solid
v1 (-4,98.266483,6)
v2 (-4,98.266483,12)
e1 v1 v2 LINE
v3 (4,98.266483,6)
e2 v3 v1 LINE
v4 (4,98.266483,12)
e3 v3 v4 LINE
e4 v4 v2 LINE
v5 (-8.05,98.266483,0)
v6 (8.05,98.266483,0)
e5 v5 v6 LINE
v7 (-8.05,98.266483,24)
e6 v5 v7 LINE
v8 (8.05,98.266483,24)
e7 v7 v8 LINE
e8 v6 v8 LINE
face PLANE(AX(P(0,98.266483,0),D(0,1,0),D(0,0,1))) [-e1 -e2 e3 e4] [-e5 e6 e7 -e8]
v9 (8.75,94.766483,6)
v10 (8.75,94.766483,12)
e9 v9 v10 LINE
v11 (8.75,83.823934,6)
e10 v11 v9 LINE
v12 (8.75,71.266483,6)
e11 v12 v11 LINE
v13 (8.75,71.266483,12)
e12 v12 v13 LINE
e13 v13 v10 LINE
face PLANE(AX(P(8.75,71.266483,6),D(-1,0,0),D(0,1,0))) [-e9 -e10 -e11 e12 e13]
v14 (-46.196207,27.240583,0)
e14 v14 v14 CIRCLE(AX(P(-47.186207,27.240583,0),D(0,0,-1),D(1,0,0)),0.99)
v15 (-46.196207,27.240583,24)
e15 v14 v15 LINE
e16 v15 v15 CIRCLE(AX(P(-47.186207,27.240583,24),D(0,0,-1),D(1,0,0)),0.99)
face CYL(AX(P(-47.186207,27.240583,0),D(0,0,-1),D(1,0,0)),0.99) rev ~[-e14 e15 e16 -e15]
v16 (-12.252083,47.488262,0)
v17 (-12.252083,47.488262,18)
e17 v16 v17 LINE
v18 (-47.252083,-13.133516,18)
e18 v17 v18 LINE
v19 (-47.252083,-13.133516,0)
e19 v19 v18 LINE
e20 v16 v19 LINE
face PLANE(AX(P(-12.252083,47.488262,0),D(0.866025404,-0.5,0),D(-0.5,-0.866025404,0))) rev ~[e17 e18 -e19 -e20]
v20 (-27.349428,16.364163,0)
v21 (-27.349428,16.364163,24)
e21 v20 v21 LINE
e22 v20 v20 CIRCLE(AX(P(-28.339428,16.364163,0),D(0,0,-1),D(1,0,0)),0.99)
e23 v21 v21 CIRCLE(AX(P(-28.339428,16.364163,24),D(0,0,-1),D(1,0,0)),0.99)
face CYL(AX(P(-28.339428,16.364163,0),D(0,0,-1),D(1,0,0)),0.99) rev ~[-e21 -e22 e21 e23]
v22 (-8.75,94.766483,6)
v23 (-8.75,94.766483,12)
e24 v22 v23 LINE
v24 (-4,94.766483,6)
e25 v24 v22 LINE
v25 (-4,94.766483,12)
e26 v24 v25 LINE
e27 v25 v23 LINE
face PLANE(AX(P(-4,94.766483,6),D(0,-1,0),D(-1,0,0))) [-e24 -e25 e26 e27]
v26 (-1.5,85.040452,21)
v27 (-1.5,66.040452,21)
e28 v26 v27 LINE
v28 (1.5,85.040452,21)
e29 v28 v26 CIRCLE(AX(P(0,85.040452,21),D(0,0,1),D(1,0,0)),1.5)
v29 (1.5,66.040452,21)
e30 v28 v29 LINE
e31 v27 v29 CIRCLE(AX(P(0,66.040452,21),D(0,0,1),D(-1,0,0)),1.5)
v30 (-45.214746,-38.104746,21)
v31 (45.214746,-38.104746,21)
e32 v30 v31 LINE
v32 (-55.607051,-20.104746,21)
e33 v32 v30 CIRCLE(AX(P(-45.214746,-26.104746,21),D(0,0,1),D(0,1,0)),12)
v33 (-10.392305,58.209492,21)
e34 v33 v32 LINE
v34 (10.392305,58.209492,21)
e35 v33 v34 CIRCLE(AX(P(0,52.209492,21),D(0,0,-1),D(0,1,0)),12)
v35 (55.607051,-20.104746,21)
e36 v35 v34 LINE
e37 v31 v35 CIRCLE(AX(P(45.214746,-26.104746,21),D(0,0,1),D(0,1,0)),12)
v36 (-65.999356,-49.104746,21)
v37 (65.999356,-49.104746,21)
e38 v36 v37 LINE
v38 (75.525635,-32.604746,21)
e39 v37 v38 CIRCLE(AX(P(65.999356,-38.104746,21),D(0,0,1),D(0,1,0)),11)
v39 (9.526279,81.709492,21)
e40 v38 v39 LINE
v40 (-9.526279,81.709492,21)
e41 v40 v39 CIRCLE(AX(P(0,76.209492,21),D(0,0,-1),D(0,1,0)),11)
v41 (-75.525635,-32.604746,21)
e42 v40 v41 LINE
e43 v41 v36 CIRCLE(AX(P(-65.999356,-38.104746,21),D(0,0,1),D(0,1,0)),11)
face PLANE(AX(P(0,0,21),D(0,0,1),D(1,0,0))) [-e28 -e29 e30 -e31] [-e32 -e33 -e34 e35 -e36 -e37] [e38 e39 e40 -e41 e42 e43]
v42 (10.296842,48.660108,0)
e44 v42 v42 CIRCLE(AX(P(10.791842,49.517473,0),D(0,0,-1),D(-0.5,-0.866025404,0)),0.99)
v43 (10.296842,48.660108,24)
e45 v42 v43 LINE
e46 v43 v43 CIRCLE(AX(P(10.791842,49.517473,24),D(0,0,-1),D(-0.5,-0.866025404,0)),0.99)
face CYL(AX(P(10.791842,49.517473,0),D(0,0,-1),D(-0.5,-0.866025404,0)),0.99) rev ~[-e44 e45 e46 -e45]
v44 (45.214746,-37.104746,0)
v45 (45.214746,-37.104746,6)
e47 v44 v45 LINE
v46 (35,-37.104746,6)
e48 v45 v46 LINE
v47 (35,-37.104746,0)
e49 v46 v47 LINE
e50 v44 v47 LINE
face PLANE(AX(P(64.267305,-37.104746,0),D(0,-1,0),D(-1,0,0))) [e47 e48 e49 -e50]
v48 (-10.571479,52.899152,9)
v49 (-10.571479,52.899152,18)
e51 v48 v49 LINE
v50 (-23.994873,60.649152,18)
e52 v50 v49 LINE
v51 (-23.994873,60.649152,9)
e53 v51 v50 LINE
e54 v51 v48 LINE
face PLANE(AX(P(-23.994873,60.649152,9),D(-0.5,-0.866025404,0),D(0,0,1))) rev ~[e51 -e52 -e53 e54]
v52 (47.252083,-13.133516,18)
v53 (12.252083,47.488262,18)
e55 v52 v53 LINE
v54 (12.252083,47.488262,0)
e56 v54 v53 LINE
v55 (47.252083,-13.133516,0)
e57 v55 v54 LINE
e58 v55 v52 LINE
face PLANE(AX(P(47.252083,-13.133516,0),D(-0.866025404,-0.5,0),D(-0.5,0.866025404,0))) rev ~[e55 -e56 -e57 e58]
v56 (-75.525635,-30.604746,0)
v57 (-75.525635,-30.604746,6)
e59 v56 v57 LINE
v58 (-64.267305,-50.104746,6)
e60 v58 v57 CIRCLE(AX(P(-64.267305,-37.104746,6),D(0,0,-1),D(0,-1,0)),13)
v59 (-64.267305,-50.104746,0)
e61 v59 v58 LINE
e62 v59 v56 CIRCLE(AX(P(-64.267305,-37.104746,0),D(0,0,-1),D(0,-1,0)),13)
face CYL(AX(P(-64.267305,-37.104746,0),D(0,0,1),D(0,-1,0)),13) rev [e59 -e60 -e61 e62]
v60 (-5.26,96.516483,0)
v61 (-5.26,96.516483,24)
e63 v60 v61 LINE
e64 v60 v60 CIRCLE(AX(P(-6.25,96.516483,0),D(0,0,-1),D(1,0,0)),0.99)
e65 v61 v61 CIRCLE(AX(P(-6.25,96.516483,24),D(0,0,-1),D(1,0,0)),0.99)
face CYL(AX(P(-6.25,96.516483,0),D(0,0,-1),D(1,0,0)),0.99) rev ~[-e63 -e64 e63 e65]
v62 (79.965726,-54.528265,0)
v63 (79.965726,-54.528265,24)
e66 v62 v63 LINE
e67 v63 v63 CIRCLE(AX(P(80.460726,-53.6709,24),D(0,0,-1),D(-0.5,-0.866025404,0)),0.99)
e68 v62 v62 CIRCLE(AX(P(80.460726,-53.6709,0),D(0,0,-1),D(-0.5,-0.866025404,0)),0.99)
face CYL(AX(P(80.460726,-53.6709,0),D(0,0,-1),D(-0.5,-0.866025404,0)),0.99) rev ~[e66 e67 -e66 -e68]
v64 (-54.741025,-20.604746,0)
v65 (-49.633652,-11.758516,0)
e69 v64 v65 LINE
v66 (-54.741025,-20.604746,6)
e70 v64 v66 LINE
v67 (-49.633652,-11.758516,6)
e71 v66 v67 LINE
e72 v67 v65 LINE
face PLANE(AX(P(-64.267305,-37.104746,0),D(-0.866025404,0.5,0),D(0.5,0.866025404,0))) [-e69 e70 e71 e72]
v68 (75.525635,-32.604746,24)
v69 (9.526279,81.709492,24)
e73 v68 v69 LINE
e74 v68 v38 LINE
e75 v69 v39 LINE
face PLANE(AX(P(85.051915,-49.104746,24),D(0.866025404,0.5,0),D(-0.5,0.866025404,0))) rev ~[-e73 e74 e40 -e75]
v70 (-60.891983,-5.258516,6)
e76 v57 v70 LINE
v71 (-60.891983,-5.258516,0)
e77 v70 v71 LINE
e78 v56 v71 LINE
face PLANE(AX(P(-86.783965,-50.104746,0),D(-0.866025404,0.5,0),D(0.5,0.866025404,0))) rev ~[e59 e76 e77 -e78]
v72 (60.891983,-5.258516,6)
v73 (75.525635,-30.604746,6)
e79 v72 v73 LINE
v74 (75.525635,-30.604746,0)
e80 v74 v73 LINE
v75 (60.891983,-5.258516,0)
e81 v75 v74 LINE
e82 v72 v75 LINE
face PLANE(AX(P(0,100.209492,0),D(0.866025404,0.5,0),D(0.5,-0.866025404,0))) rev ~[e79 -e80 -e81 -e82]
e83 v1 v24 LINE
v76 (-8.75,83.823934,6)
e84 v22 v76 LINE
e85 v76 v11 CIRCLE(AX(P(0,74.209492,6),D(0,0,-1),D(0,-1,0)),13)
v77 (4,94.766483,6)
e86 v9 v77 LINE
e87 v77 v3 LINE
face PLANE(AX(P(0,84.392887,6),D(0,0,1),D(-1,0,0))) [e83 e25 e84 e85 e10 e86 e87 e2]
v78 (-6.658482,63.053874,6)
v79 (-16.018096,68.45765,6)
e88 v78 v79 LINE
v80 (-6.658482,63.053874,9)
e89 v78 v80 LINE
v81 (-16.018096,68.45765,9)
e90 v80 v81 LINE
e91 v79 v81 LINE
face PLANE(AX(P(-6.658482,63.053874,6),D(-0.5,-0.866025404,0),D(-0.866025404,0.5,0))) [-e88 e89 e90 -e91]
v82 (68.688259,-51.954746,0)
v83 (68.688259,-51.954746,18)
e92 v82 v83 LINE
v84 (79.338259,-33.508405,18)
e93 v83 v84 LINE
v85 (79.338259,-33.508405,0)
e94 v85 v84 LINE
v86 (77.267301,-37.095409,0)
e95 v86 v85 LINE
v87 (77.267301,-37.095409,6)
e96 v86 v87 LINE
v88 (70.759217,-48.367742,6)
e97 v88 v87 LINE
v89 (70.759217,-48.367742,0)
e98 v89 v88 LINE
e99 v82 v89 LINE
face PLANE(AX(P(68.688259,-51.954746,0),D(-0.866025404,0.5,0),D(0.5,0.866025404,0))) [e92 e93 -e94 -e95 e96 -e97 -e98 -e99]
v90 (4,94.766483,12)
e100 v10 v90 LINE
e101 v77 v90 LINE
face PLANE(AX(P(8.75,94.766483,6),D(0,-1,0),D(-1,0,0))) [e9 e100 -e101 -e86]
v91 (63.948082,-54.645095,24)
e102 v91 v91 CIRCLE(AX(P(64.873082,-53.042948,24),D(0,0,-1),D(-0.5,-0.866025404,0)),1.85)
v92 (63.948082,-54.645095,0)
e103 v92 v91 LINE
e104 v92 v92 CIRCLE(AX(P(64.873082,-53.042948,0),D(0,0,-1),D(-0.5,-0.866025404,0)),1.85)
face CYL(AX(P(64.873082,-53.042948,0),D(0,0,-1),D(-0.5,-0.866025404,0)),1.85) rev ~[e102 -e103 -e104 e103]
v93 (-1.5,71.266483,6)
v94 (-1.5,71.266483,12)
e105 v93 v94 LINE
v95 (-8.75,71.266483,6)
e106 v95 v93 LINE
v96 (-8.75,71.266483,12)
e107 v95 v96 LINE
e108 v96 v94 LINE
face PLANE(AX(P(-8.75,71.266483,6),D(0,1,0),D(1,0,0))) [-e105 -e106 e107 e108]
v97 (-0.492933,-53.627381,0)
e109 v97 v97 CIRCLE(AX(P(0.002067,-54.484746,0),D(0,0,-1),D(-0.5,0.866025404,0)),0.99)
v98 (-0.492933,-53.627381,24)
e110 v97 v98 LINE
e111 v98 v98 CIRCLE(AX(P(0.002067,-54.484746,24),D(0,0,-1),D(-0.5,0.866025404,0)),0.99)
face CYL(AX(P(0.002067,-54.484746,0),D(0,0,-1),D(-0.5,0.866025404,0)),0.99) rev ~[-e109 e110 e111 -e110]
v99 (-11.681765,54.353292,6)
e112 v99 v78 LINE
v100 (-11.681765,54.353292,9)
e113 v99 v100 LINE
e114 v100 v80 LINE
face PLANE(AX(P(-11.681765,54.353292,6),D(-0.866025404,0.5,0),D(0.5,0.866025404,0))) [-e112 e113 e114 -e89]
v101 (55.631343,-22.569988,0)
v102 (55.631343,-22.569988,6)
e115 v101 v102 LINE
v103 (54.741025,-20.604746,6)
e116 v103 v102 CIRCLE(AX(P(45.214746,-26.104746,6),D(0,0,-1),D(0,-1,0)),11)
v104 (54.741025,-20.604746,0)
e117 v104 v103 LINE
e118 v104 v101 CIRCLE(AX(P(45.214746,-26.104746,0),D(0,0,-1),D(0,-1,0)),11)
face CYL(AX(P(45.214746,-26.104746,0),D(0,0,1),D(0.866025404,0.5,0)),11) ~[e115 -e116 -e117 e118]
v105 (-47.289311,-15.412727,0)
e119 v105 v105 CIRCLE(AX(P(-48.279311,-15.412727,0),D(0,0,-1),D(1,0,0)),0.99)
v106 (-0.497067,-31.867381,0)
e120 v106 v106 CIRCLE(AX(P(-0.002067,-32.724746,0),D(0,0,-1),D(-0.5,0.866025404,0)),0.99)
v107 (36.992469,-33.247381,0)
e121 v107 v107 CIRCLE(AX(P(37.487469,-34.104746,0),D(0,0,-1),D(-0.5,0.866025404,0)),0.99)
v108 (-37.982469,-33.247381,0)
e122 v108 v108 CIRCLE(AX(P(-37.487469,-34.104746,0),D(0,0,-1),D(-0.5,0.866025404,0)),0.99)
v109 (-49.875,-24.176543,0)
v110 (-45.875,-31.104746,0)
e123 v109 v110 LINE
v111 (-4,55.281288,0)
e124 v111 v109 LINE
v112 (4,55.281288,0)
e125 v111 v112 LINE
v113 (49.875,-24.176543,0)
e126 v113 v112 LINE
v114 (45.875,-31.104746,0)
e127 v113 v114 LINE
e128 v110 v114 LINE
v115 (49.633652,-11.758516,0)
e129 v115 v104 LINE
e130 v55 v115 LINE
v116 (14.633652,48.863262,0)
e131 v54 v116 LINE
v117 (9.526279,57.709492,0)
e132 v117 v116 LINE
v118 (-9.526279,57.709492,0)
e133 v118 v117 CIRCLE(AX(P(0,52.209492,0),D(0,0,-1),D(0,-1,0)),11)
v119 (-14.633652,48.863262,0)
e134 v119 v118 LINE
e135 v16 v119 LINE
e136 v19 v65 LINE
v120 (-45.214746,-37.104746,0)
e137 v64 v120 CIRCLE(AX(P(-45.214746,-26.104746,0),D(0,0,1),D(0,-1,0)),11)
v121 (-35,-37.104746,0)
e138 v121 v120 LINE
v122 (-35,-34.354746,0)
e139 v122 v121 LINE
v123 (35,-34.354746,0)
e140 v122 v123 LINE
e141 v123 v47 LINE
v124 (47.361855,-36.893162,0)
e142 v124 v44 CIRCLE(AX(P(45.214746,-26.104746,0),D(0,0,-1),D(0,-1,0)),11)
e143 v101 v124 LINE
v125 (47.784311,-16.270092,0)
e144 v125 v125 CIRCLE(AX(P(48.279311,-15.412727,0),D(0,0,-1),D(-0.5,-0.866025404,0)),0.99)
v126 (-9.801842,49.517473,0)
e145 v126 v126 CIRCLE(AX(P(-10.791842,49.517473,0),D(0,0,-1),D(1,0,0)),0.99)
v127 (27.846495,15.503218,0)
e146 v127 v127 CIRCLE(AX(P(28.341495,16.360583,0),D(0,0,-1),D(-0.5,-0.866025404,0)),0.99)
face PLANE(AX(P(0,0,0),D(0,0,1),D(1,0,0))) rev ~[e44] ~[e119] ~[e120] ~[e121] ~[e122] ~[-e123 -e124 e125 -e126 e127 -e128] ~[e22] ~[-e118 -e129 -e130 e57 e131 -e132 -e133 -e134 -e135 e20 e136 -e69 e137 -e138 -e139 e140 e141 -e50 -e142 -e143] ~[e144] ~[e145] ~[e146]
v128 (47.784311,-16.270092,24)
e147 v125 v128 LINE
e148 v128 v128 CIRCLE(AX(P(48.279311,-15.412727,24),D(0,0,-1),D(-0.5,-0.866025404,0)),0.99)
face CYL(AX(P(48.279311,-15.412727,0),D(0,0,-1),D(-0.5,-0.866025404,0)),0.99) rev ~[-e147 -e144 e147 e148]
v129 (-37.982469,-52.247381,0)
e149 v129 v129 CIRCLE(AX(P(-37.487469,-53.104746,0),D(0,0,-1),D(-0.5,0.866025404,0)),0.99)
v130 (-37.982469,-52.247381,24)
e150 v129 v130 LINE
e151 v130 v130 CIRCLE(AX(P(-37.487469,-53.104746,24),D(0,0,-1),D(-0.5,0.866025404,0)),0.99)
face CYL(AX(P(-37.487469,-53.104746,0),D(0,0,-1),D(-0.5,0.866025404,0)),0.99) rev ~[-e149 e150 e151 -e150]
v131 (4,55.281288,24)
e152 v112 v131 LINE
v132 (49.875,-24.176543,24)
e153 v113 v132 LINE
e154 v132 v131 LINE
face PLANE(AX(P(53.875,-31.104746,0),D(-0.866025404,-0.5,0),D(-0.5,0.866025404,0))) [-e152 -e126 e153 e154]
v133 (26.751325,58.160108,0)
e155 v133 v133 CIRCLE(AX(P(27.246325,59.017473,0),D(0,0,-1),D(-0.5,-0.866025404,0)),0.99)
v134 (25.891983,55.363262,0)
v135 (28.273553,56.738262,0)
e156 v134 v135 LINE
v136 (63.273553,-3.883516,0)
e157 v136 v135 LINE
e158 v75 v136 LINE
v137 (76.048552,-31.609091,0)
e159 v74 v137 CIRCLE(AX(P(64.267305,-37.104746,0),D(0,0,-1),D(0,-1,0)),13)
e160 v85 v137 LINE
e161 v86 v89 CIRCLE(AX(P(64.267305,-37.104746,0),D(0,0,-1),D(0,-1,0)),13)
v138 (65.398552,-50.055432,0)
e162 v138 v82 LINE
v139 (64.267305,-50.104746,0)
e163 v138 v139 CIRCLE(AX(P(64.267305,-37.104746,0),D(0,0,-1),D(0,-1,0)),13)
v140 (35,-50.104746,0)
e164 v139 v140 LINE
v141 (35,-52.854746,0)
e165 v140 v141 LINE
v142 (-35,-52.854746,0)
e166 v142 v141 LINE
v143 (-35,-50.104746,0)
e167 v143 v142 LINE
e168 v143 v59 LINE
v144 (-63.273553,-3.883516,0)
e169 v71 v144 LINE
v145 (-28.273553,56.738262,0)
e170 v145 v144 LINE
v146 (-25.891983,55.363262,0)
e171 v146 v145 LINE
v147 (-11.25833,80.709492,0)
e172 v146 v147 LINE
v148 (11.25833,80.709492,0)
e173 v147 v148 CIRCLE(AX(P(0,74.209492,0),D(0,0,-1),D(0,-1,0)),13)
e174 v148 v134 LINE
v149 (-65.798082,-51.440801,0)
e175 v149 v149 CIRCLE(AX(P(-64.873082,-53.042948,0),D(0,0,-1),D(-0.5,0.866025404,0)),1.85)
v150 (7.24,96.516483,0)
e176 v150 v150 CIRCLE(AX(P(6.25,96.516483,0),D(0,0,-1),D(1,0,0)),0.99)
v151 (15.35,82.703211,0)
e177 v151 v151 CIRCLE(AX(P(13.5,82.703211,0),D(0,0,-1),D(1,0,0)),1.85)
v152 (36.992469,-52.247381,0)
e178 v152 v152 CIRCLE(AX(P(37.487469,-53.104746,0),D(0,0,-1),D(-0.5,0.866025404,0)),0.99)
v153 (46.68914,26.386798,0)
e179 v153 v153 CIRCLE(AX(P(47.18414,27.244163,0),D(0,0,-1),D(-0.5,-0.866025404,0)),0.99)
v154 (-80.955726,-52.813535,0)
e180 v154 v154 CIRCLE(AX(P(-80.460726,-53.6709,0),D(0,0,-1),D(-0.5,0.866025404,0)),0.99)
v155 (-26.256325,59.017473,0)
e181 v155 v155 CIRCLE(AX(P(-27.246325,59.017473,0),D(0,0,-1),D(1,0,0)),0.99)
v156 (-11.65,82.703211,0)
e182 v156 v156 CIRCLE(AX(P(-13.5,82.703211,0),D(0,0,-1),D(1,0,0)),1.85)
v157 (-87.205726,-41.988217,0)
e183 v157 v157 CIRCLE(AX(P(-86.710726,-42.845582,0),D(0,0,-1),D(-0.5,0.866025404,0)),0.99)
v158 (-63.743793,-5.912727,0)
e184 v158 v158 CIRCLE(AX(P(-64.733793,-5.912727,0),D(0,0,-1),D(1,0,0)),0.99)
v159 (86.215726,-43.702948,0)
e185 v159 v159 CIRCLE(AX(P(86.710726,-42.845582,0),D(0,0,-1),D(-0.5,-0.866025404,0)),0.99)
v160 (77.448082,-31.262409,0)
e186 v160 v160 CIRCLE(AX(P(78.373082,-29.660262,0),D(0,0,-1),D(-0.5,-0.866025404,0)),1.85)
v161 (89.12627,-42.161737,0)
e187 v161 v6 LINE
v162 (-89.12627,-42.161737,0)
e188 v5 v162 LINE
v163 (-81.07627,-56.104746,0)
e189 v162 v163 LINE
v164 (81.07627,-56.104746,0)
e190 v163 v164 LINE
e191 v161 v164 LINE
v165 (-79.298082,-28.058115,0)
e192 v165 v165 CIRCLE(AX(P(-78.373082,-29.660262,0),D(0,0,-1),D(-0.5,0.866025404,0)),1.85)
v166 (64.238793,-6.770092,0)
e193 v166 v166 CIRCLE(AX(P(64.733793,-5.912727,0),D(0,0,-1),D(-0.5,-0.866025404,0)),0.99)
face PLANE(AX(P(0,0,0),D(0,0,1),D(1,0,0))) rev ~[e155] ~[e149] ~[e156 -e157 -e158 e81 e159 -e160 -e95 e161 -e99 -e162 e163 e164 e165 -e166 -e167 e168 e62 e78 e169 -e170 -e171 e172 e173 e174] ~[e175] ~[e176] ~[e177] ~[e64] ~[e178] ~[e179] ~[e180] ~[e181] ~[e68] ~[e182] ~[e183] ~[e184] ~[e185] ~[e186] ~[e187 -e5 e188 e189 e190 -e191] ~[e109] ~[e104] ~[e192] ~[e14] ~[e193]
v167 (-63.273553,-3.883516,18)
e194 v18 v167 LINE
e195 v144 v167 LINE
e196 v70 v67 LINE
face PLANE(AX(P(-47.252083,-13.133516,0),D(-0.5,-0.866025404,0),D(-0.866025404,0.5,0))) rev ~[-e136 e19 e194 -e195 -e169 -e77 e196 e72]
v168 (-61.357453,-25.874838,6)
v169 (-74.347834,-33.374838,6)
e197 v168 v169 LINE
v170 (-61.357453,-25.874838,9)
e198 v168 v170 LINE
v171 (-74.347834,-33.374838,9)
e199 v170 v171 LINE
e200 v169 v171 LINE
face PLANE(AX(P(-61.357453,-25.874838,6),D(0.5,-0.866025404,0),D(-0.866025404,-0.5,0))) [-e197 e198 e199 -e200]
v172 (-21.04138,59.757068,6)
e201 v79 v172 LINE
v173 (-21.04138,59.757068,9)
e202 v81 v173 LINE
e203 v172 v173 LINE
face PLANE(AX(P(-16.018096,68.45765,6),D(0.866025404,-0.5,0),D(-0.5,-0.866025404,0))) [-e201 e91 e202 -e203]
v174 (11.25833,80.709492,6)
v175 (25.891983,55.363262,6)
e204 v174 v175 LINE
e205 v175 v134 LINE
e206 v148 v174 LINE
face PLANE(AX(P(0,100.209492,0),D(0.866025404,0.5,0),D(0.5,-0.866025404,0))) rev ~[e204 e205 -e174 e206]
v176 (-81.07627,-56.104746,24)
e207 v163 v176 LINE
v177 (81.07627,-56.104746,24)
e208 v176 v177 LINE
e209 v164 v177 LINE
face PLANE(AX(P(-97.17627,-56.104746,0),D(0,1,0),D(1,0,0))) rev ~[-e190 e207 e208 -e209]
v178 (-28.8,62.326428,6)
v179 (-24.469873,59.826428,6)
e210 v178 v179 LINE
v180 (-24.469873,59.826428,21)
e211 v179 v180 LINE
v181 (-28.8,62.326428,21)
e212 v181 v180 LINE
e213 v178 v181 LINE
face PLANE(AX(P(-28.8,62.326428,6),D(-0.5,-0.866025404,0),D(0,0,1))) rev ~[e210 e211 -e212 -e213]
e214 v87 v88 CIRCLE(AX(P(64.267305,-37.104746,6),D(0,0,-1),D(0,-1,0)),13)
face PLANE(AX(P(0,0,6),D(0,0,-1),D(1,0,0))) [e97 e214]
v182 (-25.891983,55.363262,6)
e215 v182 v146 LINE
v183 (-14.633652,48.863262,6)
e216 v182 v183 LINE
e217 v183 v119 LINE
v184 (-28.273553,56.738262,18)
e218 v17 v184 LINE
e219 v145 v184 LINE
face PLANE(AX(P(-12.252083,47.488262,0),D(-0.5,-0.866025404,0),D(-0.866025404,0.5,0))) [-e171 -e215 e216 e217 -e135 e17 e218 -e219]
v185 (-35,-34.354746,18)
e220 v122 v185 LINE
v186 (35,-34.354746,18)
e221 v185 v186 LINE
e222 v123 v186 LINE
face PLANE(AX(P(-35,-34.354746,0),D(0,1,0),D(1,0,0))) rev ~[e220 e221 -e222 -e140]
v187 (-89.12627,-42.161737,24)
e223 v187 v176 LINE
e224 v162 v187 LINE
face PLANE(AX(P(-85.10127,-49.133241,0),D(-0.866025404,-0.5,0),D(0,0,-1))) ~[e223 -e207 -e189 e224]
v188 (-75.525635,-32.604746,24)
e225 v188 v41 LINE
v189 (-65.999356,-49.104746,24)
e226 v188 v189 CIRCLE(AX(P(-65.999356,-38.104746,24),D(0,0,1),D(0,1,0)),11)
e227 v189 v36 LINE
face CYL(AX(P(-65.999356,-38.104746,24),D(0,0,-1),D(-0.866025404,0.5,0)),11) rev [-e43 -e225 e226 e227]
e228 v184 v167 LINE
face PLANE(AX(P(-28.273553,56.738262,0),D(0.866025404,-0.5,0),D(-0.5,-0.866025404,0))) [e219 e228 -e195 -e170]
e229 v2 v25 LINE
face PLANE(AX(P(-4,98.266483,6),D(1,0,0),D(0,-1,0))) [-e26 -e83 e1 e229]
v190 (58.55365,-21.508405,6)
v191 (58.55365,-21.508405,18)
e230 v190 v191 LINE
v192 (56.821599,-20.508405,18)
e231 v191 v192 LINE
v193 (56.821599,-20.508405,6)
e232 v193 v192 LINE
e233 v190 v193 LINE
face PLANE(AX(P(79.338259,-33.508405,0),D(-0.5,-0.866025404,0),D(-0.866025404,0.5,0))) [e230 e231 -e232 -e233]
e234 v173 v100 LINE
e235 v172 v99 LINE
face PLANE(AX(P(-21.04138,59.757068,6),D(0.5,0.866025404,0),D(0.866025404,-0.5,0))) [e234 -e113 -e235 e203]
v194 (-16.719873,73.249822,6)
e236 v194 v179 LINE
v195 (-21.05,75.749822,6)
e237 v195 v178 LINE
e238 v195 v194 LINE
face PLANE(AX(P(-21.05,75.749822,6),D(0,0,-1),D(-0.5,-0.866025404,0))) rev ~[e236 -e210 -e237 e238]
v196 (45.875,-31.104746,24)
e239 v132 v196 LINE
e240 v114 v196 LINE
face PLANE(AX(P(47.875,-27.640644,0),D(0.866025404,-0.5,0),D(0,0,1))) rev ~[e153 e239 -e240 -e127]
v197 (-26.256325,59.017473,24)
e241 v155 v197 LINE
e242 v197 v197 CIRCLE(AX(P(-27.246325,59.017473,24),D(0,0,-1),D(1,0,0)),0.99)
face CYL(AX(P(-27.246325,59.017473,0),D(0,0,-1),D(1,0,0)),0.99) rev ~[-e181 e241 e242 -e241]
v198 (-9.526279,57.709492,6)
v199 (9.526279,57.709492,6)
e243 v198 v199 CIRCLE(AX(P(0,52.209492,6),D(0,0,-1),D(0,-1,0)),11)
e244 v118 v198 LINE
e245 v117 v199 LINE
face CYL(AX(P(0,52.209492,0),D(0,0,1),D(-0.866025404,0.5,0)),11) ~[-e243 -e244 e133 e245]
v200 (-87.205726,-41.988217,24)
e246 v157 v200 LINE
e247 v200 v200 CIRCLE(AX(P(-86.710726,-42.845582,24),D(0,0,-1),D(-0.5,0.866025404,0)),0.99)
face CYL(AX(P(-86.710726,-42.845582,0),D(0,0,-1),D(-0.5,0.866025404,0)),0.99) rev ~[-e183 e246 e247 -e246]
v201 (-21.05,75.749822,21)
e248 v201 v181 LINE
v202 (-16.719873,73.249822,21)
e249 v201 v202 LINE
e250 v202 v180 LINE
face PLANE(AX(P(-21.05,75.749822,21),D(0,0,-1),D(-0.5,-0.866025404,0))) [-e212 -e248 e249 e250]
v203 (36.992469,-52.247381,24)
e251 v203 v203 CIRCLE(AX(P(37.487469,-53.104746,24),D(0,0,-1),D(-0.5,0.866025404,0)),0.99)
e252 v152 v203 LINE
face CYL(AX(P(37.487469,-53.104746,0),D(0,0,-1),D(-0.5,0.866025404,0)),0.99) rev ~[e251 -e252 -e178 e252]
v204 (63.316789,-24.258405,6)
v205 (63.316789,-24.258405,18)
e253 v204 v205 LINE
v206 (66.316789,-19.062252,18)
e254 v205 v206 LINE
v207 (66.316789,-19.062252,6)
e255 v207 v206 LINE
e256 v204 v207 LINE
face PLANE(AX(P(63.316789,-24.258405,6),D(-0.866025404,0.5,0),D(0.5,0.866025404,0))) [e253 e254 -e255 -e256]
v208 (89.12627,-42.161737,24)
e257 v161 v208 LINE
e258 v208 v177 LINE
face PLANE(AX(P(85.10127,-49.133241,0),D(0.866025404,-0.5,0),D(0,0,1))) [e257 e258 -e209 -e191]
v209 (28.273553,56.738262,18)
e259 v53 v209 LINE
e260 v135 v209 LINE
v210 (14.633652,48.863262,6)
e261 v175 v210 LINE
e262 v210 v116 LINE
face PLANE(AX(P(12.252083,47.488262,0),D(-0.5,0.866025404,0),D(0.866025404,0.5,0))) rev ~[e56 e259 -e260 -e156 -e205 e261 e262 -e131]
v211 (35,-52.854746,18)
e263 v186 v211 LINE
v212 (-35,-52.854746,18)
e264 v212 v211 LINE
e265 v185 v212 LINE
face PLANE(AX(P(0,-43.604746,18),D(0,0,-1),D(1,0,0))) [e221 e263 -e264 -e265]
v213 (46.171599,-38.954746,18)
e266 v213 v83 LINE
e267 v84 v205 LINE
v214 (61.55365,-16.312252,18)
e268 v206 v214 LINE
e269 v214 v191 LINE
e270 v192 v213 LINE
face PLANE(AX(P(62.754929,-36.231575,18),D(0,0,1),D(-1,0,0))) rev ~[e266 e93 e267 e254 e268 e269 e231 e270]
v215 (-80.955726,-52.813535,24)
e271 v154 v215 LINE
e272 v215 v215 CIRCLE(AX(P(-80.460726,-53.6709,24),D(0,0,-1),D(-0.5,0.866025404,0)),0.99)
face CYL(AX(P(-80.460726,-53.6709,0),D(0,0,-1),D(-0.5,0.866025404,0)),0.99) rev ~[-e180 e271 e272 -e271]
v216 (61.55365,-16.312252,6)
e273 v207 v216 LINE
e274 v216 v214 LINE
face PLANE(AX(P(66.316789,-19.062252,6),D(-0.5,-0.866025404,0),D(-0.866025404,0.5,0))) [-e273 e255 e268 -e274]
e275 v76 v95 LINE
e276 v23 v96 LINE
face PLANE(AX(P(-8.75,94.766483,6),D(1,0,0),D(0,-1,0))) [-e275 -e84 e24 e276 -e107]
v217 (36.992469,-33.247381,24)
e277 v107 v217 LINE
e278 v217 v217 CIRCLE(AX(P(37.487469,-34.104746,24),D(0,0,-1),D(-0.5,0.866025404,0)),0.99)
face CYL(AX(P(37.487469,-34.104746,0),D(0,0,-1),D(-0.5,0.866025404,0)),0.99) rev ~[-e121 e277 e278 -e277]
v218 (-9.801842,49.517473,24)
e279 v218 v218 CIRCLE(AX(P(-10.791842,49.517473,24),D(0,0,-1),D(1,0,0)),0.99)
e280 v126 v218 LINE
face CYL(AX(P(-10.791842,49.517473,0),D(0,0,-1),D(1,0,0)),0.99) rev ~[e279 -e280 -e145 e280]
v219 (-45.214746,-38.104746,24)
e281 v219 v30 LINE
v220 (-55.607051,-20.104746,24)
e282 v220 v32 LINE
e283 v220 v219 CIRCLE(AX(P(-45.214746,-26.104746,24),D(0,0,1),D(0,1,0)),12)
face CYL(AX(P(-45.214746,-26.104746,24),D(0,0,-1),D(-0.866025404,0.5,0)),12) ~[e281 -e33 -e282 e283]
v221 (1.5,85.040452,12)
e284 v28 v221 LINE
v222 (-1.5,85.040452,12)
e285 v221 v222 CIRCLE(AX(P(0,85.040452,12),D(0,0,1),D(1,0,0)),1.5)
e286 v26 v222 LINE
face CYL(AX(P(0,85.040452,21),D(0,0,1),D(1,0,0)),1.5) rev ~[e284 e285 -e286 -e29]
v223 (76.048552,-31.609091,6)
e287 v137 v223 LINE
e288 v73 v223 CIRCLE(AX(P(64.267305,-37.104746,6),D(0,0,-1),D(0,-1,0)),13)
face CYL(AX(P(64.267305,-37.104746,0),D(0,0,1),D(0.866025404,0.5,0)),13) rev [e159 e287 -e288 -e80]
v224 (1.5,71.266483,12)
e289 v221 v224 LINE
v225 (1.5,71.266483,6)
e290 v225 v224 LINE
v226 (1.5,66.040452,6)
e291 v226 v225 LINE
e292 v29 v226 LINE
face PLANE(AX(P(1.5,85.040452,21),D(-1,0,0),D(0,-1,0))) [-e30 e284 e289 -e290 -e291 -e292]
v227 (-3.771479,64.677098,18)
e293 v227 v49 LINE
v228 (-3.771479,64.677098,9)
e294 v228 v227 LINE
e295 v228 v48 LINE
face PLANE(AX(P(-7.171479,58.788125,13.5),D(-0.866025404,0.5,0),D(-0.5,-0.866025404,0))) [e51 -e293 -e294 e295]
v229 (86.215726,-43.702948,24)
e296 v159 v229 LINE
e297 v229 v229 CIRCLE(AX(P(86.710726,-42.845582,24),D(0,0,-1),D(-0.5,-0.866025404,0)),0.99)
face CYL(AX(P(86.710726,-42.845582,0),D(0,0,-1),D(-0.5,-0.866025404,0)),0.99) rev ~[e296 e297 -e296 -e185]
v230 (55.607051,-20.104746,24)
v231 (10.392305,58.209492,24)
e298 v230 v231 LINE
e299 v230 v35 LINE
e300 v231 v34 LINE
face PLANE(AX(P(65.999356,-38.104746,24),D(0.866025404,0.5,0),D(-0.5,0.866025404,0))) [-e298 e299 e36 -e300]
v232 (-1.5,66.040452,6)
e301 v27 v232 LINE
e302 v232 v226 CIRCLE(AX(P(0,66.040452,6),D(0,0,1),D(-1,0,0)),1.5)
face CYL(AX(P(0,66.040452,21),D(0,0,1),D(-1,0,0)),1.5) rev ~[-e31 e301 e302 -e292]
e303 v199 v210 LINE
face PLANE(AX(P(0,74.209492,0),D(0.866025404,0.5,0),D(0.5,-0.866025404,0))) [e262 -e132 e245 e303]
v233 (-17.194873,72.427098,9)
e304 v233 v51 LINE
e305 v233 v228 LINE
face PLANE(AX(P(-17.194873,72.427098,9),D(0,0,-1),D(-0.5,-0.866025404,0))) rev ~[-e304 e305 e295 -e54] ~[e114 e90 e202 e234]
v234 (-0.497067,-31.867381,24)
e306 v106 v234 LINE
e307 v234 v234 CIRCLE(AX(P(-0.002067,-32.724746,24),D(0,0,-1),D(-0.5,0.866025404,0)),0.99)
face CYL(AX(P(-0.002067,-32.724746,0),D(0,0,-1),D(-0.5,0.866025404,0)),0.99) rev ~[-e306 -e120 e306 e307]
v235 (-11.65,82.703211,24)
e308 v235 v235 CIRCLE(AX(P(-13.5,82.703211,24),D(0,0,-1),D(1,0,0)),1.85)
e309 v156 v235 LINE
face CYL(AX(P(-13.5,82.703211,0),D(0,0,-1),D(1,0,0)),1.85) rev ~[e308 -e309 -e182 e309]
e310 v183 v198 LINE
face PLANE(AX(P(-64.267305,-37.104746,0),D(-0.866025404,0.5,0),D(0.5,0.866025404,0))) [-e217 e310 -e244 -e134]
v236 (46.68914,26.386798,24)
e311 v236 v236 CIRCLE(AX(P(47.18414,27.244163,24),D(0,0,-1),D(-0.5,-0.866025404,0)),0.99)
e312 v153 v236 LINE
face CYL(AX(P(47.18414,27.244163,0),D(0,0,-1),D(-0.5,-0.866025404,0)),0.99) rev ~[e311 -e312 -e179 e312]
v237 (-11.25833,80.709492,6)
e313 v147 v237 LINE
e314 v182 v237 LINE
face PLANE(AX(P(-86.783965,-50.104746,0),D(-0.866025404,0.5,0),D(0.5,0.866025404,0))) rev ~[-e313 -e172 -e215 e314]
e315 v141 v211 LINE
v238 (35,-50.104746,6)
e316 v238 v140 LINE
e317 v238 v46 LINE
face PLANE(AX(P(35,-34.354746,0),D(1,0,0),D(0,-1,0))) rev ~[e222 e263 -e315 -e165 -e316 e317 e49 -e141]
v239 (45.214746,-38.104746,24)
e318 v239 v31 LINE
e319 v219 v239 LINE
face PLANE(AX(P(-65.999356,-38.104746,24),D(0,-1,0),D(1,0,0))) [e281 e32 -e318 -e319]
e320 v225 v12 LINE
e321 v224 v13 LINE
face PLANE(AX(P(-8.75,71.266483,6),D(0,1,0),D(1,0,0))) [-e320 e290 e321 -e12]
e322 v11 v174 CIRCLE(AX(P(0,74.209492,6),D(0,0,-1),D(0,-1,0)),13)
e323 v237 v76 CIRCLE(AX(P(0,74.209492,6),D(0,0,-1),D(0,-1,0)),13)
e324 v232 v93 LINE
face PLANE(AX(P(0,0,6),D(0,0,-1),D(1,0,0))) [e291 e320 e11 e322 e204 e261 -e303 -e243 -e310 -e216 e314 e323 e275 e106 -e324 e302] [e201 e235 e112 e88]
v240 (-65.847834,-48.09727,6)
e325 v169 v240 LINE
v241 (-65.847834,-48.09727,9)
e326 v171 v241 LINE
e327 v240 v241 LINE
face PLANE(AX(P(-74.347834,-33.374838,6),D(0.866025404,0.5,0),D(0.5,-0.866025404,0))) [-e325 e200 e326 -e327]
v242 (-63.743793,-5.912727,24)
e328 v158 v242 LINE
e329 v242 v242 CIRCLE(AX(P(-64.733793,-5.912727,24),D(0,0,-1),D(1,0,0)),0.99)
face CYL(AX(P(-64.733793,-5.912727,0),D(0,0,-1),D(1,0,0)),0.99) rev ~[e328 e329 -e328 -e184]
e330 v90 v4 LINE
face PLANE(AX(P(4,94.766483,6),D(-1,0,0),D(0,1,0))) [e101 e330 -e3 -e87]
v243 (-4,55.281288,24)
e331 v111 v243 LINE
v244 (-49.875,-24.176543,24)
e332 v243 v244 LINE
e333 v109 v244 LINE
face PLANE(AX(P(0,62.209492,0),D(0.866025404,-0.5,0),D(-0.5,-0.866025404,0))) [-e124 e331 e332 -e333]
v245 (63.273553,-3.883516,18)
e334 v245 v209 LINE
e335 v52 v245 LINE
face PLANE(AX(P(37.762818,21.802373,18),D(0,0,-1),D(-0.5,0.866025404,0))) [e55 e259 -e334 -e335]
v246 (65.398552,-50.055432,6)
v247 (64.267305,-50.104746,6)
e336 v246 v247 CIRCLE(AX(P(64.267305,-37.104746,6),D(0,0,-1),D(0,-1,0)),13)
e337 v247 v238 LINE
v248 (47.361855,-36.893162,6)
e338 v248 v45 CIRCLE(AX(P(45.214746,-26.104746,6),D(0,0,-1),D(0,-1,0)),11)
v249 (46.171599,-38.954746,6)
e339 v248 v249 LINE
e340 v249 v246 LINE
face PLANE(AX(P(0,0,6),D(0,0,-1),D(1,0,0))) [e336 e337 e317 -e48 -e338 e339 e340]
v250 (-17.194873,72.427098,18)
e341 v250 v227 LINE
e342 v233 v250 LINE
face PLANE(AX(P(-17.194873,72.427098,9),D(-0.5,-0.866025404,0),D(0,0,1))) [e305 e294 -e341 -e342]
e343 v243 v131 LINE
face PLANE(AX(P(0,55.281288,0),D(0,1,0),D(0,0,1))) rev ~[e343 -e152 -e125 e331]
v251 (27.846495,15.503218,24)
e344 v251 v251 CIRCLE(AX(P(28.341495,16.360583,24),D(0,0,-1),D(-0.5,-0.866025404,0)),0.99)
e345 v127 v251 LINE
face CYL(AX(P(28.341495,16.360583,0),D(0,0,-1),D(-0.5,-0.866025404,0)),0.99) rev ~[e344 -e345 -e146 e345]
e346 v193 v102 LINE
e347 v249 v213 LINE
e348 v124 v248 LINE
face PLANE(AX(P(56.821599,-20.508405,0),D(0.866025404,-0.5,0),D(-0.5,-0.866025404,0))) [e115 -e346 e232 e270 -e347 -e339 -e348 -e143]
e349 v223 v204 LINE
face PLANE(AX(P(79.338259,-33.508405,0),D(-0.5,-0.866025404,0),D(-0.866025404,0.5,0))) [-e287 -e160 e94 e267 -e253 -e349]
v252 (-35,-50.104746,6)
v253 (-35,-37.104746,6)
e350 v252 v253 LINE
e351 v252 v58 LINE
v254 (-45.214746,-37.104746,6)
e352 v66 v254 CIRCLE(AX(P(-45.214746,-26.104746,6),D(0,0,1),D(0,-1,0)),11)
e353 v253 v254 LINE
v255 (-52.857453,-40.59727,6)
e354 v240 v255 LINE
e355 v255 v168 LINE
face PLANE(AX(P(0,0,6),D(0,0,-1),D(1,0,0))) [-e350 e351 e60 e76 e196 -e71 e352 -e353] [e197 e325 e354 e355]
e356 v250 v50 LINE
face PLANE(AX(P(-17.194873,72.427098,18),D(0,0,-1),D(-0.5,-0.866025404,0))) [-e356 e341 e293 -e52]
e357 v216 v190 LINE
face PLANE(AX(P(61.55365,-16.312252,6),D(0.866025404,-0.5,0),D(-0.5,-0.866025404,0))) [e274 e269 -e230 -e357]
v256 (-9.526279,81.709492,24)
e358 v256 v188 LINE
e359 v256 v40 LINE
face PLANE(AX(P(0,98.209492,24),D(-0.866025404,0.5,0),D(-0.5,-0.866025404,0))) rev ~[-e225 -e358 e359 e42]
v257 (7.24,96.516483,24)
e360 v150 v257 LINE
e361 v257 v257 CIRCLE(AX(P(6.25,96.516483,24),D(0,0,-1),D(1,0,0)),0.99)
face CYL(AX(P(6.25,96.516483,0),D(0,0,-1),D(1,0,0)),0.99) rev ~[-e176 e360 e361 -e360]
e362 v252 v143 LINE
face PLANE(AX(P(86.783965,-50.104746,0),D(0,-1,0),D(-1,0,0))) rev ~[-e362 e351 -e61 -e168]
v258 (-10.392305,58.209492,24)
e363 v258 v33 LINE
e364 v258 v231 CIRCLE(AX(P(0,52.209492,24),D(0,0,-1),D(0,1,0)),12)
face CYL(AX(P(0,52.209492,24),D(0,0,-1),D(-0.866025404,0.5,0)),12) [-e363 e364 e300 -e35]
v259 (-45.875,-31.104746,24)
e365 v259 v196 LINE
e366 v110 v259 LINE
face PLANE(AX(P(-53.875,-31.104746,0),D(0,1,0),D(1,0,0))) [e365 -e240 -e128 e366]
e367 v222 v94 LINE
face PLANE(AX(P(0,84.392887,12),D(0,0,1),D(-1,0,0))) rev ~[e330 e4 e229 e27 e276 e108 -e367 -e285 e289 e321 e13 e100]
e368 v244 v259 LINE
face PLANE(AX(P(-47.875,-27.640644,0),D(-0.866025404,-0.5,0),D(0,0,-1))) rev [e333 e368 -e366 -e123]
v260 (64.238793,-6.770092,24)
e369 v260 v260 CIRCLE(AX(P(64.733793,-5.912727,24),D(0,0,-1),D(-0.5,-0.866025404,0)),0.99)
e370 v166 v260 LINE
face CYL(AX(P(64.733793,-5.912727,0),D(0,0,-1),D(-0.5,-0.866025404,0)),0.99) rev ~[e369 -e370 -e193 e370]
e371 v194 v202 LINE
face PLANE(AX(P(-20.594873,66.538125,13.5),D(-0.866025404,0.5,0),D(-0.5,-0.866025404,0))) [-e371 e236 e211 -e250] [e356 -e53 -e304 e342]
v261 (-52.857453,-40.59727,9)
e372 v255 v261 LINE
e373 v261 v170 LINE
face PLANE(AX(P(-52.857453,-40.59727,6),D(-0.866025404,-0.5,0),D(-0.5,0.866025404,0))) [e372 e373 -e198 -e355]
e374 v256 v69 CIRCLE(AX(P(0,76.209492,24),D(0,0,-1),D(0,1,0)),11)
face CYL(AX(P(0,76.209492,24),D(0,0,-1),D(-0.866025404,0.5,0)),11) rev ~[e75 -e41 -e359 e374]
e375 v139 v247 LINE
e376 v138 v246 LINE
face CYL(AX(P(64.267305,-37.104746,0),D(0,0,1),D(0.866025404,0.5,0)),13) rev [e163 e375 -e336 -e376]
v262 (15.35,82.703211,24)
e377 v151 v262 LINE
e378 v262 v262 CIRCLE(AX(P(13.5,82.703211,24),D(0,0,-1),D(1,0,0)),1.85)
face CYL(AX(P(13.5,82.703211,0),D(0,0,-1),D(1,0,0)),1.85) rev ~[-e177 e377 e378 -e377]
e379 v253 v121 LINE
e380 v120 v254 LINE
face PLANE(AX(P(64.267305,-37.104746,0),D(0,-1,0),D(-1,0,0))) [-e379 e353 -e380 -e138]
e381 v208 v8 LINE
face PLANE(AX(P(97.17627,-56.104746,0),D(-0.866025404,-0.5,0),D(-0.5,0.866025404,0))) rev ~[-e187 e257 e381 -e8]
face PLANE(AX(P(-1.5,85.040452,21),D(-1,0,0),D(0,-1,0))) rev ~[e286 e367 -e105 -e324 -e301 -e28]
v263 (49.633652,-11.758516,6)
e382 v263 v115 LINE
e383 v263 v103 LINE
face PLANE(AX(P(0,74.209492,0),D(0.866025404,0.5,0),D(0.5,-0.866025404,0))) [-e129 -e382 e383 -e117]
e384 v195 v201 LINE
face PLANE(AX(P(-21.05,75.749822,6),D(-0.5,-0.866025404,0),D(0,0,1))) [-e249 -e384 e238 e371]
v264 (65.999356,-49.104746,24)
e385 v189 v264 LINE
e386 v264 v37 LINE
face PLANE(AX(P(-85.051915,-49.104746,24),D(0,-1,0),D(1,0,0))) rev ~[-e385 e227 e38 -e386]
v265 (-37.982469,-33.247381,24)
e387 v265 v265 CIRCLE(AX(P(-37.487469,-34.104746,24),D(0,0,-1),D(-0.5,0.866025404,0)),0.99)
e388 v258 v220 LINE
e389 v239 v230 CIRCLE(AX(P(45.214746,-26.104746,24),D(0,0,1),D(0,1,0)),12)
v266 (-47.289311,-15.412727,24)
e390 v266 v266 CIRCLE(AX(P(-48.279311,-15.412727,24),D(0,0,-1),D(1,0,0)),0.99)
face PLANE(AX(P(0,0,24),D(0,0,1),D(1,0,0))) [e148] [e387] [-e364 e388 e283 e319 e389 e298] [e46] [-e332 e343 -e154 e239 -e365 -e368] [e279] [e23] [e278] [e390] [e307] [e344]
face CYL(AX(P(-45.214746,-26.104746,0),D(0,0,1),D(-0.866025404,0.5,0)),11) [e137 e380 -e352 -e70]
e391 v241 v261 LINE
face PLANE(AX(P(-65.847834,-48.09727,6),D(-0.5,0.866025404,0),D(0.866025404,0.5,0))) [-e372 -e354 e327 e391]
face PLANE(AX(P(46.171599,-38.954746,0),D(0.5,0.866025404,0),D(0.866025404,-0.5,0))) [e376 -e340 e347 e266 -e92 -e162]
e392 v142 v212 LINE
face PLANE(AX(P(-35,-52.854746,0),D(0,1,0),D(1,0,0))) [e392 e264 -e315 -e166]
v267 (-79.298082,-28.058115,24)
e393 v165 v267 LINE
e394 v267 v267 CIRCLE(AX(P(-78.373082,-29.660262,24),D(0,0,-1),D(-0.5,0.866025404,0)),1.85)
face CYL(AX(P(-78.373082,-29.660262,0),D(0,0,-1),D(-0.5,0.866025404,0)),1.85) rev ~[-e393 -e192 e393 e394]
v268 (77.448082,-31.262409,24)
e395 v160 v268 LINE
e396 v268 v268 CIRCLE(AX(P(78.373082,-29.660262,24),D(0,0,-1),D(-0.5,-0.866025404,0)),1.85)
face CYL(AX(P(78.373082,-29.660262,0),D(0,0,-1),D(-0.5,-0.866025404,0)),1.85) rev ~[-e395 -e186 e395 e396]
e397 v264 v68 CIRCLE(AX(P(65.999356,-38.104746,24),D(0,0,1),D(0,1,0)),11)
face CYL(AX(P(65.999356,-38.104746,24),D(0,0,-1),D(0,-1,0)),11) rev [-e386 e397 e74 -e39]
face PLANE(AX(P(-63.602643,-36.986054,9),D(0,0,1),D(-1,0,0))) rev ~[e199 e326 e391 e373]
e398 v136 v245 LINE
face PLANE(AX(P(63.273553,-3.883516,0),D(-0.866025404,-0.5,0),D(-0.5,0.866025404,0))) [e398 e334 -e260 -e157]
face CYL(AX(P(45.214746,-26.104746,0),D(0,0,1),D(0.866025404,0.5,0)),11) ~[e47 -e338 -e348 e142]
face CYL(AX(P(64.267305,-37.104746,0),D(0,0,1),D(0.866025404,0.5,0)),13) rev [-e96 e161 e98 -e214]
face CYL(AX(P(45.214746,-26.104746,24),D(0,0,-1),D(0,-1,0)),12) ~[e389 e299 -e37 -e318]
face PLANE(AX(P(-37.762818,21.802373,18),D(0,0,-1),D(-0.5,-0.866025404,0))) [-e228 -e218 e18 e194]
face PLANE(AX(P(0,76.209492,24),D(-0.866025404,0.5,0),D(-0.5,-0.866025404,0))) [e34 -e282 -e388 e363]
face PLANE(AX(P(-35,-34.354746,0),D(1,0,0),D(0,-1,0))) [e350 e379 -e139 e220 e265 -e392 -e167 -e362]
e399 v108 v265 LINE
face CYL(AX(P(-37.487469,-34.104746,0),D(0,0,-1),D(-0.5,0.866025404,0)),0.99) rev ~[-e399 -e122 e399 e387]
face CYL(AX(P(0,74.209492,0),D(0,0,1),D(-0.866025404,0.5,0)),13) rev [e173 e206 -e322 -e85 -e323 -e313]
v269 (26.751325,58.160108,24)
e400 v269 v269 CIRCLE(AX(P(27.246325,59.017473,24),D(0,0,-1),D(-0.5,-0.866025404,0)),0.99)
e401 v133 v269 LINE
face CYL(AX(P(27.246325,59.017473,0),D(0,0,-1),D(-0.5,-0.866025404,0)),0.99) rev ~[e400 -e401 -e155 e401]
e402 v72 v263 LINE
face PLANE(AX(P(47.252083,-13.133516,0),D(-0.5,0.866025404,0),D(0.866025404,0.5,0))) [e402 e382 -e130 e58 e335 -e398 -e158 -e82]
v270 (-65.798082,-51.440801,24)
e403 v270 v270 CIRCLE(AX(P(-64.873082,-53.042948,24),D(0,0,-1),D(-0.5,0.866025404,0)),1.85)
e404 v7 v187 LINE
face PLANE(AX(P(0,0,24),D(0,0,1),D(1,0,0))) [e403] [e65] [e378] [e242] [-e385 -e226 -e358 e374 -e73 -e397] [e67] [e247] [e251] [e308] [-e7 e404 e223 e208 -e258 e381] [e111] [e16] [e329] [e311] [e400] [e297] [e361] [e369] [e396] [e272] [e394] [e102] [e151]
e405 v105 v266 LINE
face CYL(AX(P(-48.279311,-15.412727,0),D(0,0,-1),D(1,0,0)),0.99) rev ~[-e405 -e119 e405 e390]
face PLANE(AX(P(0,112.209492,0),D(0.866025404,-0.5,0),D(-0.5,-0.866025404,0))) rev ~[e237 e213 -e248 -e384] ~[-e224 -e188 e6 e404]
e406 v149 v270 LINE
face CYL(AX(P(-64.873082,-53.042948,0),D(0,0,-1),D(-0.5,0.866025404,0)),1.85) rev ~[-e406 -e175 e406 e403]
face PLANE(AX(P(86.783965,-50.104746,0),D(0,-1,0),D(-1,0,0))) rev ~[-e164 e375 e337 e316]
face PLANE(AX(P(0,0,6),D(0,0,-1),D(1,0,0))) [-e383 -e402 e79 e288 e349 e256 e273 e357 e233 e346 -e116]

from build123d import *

# Parameters (mm, degrees)
PAD_DEPTH             = 24
POCKET_DEPTH          = 3
SKETCH002_W           = 70
SKETCH002_H           = 18.5
POCKET001_DEPTH       = 18
POLARPATTERN_COUNT    = 3
POCKET002_DEPTH       = 6
CHAMFER_SIZE          = 8
FILLET_R              = 13
FILLET001_R           = 11
CHAMFER001_SIZE       = 16.1
FILLET002_R           = 11
FILLET003_R           = 12
POCKET003_DEPTH       = 6
POCKET004_DEPTH       = 18
POCKET005_DEPTH       = 21.001
SKETCH007_W           = 15.5
SKETCH007_H           = 15
POCKET006_DEPTH       = 5
SKETCH010_W           = 13.6
SKETCH010_H           = 9
POCKET009_DEPTH       = 15.5
POCKET010_DEPTH       = 3
SKETCH012_R           = 1.85
SKETCH012_R_2         = 0.99
POCKET011_DEPTH       = 498.0492855781
POLARPATTERN001_COUNT = 3
POCKET012_DEPTH       = 12
POCKET013_DEPTH       = 3


with BuildPart() as part:
    # Sketch → Pad (new body)
    with BuildSketch(Plane.XY):
        Polygon((0, 112.2094915052), (-97.1762701892, -56.1047457526), (97.1762701892, -56.1047457526), align=None)
        Polygon((0, 62.2094915052), (-53.875, -31.1047457526), (53.875, -31.1047457526), align=None, mode=Mode.SUBTRACT)
    extrude(amount=PAD_DEPTH)

    # Sketch001 (on Face8 of Pad) → Pocket (cut)
    with BuildSketch(Plane.XY.offset(24)):
        Polygon((0, 98.2094915052), (-85.0519145362, -49.1047457526), (85.0519145362, -49.1047457526), align=None)
        Polygon((0, 76.2094915052), (-65.999355653, -38.1047457526), (65.999355653, -38.1047457526), align=None, mode=Mode.SUBTRACT)
    extrude(amount=-POCKET_DEPTH, mode=Mode.SUBTRACT)

    # Sketch002 (on Face4 of Pocket) → Pocket001 (cut)
    with BuildSketch(Plane(origin=(0, 0, 0), x_dir=(1, 0, 0), z_dir=(0, 0, -1))):
        with Locations((0, 43.6047457526)):
            Rectangle(SKETCH002_W, SKETCH002_H)
    pocket001 = extrude(amount=-POCKET001_DEPTH, mode=Mode.SUBTRACT)

    # PolarPattern: Pocket001 ×3 about axis
    polarpattern_axis = Axis((0, 0, 0), (0, 0, -1))
    for i in range(1, POLARPATTERN_COUNT):
        add(pocket001.rotate(polarpattern_axis, i * 360 / POLARPATTERN_COUNT), mode=Mode.SUBTRACT)

    # Sketch003 (on Face4 of PolarPattern) → Pocket002 (cut)
    with BuildSketch(Plane(origin=(0, 0, 0), x_dir=(1, 0, 0), z_dir=(0, 0, -1))):
        Polygon((0, -100.2094915052), (86.7839653438, 50.1047457526), (-86.7839653438, 50.1047457526), align=None)
        Polygon((0, -74.2094915052), (64.2673048454, 37.1047457526), (-64.2673048454, 37.1047457526), align=None, mode=Mode.SUBTRACT)
    extrude(amount=-POCKET002_DEPTH, mode=Mode.SUBTRACT)

    # Chamfer
    chamfer_edges = [part.edges().sort_by_distance(p)[0] for p in [
        (-53.875, -31.104746, 12),
        (53.875, -31.104746, 12),
        (0, 62.209492, 12),
    ]]
    chamfer(chamfer_edges, length=CHAMFER_SIZE)

    # Fillet
    fillet_edges = [part.edges().sort_by_distance(p)[0] for p in [
        (0, 100.209492, 3),
        (-86.783965, -50.104746, 3),
        (86.783965, -50.104746, 3),
    ]]
    fillet(fillet_edges, radius=FILLET_R)

    # Fillet001
    fillet001_edges = [part.edges().sort_by_distance(p)[0] for p in [
        (0, 74.209492, 3),
        (64.267305, -37.104746, 3),
        (-64.267305, -37.104746, 3),
    ]]
    fillet(fillet001_edges, radius=FILLET001_R)

    # Chamfer001
    chamfer001_edges = [part.edges().sort_by_distance(p)[0] for p in [
        (97.17627, -56.104746, 12),
        (0, 112.209492, 12),
        (-97.17627, -56.104746, 12),
    ]]
    chamfer(chamfer001_edges, length=CHAMFER001_SIZE)

    # Fillet002
    fillet002_edges = [part.edges().sort_by_distance(p)[0] for p in [
        (0, 98.209492, 22.5),
        (-85.051915, -49.104746, 22.5),
        (85.051915, -49.104746, 22.5),
    ]]
    fillet(fillet002_edges, radius=FILLET002_R)

    # Fillet003
    fillet003_edges = [part.edges().sort_by_distance(p)[0] for p in [
        (65.999356, -38.104746, 22.5),
        (0, 76.209492, 22.5),
        (-65.999356, -38.104746, 22.5),
    ]]
    fillet(fillet003_edges, radius=FILLET003_R)

    # Sketch004 (on Face60 of Fillet003) → Pocket003 (cut)
    with BuildSketch(Plane(origin=(0, 0, 6), x_dir=(1, 0, 0), z_dir=(0, 0, -1))):
        Polygon((-8.75, -71.2664825043), (8.75, -71.2664825043), (8.75, -94.7664825043), (4, -94.7664825043), (4, -98.2664825043), (-4, -98.2664825043), (-4, -94.7664825043), (-8.75, -94.7664825043), align=None)
    extrude(amount=-POCKET003_DEPTH, mode=Mode.SUBTRACT)

    # Sketch005 (on Face29 of Pocket003) → Pocket004 (cut)
    with BuildSketch(Plane(origin=(0, 0, 0), x_dir=(1, 0, 0), z_dir=(0, 0, -1))):
        Polygon((46.1715988394, 38.9547457526), (68.6882593378, 51.9547457526), (79.3382593378, 33.508404652), (56.8215988394, 20.508404652), align=None)
    extrude(amount=-POCKET004_DEPTH, mode=Mode.SUBTRACT)

    # Sketch006 (on Face1 of Pocket004) → Pocket005 (cut, through all)
    with BuildSketch(Plane.XY.offset(21)):
        with BuildLine():
            ThreePointArc((1.5, 85.0404521425), (0, 86.5404521425), (-1.5, 85.0404521425))
            Line((-1.5, 85.0404521425), (-1.5, 66.0404521425))
            ThreePointArc((-1.5, 66.0404521425), (0, 64.5404521425), (1.5, 66.0404521425))
            Line((1.5, 85.0404521425), (1.5, 66.0404521425))
        make_face()
    extrude(amount=-POCKET005_DEPTH, mode=Mode.SUBTRACT)

    # Sketch007 (on Face24 of Pocket005) → Pocket006 (cut)
    with BuildSketch(Plane(origin=(-48.5881350946, 28.0523728763, 0), x_dir=(-0.5, -0.8660254038, 0), z_dir=(-0.8660254038, 0.5, 0))):
        with Locations((-47.3262701892, 13.5)):
            Rectangle(SKETCH007_W, SKETCH007_H)
    extrude(amount=-POCKET006_DEPTH, mode=Mode.SUBTRACT)

    # Sketch010 (on Face79 of Pocket006) → Pocket009 (cut)
    with BuildSketch(Plane(origin=(-44.2580080757, 25.5523728763, 0), x_dir=(-0.5, -0.8660254038, 0), z_dir=(-0.8660254038, 0.5, 0))):
        with Locations((-47.3262701892, 13.5)):
            Rectangle(SKETCH010_W, SKETCH010_H)
    extrude(amount=-POCKET009_DEPTH, mode=Mode.SUBTRACT)

    # Sketch011 (on Face21 of Pocket009) → Pocket010 (cut)
    with BuildSketch(Plane(origin=(0, 0, 6), x_dir=(1, 0, 0), z_dir=(0, 0, -1))):
        Polygon((-21.0413798427, -59.7570681827), (-11.6817654684, -54.3532923042), (-6.658482036, -63.0538744299), (-16.0180964103, -68.4576503084), align=None)
    extrude(amount=-POCKET010_DEPTH, mode=Mode.SUBTRACT)

    # Sketch012 (on Face54 of Pocket010) → Pocket011 (cut, through all)
    with BuildSketch(Plane(origin=(0, 0, 0), x_dir=(1, 0, 0), z_dir=(0, 0, -1))):
        with Locations((-13.5, -82.7032108255)):
            Circle(SKETCH012_R)
        with Locations((13.5, -82.7032108255)):
            Circle(SKETCH012_R)
        with Locations((-6.25, -96.5164825043)):
            Circle(SKETCH012_R_2)
        with Locations((6.25, -96.5164825043)):
            Circle(SKETCH012_R_2)
        with Locations((-27.2463245869, -59.0174730012)):
            Circle(SKETCH012_R_2)
        with Locations((-47.1862074814, -27.2405827309)):
            Circle(SKETCH012_R_2)
        with Locations((-64.7337931796, 5.9127272486)):
            Circle(SKETCH012_R_2)
        with Locations((-10.791841915, -49.5174730012)):
            Circle(SKETCH012_R_2)
        with Locations((-28.3394276132, -16.3641630217)):
            Circle(SKETCH012_R_2)
        with Locations((-48.2793105078, 15.4127272487)):
            Circle(SKETCH012_R_2)
    pocket011 = extrude(amount=-POCKET011_DEPTH, mode=Mode.SUBTRACT)

    # PolarPattern001: Pocket011 ×3 about axis
    polarpattern001_axis = Axis((0, 0, 0), (0, 0, -1))
    for i in range(1, POLARPATTERN001_COUNT):
        add(pocket011.rotate(polarpattern001_axis, i * 360 / POLARPATTERN001_COUNT), mode=Mode.SUBTRACT)

    # Sketch013 (on Face132 of PolarPattern001) → Pocket012 (cut)
    with BuildSketch(Plane(origin=(0, 0, 6), x_dir=(1, 0, 0), z_dir=(0, 0, -1))):
        Polygon((58.553649647, 21.508404652), (63.3167893678, 24.258404652), (66.3167893678, 19.0622522293), (61.553649647, 16.3122522293), align=None)
    extrude(amount=-POCKET012_DEPTH, mode=Mode.SUBTRACT)

    # Sketch014 (on Face127 of Pocket012) → Pocket013 (cut)
    with BuildSketch(Plane(origin=(0, 0, 6), x_dir=(1, 0, 0), z_dir=(0, 0, -1))):
        Polygon((-74.3478338252, 33.3748379063), (-65.8478338252, 48.0972697706), (-52.8574527684, 40.5972697706), (-61.3574527684, 25.8748379063), align=None)
    extrude(amount=-POCKET013_DEPTH, mode=Mode.SUBTRACT)


solid = part.part
